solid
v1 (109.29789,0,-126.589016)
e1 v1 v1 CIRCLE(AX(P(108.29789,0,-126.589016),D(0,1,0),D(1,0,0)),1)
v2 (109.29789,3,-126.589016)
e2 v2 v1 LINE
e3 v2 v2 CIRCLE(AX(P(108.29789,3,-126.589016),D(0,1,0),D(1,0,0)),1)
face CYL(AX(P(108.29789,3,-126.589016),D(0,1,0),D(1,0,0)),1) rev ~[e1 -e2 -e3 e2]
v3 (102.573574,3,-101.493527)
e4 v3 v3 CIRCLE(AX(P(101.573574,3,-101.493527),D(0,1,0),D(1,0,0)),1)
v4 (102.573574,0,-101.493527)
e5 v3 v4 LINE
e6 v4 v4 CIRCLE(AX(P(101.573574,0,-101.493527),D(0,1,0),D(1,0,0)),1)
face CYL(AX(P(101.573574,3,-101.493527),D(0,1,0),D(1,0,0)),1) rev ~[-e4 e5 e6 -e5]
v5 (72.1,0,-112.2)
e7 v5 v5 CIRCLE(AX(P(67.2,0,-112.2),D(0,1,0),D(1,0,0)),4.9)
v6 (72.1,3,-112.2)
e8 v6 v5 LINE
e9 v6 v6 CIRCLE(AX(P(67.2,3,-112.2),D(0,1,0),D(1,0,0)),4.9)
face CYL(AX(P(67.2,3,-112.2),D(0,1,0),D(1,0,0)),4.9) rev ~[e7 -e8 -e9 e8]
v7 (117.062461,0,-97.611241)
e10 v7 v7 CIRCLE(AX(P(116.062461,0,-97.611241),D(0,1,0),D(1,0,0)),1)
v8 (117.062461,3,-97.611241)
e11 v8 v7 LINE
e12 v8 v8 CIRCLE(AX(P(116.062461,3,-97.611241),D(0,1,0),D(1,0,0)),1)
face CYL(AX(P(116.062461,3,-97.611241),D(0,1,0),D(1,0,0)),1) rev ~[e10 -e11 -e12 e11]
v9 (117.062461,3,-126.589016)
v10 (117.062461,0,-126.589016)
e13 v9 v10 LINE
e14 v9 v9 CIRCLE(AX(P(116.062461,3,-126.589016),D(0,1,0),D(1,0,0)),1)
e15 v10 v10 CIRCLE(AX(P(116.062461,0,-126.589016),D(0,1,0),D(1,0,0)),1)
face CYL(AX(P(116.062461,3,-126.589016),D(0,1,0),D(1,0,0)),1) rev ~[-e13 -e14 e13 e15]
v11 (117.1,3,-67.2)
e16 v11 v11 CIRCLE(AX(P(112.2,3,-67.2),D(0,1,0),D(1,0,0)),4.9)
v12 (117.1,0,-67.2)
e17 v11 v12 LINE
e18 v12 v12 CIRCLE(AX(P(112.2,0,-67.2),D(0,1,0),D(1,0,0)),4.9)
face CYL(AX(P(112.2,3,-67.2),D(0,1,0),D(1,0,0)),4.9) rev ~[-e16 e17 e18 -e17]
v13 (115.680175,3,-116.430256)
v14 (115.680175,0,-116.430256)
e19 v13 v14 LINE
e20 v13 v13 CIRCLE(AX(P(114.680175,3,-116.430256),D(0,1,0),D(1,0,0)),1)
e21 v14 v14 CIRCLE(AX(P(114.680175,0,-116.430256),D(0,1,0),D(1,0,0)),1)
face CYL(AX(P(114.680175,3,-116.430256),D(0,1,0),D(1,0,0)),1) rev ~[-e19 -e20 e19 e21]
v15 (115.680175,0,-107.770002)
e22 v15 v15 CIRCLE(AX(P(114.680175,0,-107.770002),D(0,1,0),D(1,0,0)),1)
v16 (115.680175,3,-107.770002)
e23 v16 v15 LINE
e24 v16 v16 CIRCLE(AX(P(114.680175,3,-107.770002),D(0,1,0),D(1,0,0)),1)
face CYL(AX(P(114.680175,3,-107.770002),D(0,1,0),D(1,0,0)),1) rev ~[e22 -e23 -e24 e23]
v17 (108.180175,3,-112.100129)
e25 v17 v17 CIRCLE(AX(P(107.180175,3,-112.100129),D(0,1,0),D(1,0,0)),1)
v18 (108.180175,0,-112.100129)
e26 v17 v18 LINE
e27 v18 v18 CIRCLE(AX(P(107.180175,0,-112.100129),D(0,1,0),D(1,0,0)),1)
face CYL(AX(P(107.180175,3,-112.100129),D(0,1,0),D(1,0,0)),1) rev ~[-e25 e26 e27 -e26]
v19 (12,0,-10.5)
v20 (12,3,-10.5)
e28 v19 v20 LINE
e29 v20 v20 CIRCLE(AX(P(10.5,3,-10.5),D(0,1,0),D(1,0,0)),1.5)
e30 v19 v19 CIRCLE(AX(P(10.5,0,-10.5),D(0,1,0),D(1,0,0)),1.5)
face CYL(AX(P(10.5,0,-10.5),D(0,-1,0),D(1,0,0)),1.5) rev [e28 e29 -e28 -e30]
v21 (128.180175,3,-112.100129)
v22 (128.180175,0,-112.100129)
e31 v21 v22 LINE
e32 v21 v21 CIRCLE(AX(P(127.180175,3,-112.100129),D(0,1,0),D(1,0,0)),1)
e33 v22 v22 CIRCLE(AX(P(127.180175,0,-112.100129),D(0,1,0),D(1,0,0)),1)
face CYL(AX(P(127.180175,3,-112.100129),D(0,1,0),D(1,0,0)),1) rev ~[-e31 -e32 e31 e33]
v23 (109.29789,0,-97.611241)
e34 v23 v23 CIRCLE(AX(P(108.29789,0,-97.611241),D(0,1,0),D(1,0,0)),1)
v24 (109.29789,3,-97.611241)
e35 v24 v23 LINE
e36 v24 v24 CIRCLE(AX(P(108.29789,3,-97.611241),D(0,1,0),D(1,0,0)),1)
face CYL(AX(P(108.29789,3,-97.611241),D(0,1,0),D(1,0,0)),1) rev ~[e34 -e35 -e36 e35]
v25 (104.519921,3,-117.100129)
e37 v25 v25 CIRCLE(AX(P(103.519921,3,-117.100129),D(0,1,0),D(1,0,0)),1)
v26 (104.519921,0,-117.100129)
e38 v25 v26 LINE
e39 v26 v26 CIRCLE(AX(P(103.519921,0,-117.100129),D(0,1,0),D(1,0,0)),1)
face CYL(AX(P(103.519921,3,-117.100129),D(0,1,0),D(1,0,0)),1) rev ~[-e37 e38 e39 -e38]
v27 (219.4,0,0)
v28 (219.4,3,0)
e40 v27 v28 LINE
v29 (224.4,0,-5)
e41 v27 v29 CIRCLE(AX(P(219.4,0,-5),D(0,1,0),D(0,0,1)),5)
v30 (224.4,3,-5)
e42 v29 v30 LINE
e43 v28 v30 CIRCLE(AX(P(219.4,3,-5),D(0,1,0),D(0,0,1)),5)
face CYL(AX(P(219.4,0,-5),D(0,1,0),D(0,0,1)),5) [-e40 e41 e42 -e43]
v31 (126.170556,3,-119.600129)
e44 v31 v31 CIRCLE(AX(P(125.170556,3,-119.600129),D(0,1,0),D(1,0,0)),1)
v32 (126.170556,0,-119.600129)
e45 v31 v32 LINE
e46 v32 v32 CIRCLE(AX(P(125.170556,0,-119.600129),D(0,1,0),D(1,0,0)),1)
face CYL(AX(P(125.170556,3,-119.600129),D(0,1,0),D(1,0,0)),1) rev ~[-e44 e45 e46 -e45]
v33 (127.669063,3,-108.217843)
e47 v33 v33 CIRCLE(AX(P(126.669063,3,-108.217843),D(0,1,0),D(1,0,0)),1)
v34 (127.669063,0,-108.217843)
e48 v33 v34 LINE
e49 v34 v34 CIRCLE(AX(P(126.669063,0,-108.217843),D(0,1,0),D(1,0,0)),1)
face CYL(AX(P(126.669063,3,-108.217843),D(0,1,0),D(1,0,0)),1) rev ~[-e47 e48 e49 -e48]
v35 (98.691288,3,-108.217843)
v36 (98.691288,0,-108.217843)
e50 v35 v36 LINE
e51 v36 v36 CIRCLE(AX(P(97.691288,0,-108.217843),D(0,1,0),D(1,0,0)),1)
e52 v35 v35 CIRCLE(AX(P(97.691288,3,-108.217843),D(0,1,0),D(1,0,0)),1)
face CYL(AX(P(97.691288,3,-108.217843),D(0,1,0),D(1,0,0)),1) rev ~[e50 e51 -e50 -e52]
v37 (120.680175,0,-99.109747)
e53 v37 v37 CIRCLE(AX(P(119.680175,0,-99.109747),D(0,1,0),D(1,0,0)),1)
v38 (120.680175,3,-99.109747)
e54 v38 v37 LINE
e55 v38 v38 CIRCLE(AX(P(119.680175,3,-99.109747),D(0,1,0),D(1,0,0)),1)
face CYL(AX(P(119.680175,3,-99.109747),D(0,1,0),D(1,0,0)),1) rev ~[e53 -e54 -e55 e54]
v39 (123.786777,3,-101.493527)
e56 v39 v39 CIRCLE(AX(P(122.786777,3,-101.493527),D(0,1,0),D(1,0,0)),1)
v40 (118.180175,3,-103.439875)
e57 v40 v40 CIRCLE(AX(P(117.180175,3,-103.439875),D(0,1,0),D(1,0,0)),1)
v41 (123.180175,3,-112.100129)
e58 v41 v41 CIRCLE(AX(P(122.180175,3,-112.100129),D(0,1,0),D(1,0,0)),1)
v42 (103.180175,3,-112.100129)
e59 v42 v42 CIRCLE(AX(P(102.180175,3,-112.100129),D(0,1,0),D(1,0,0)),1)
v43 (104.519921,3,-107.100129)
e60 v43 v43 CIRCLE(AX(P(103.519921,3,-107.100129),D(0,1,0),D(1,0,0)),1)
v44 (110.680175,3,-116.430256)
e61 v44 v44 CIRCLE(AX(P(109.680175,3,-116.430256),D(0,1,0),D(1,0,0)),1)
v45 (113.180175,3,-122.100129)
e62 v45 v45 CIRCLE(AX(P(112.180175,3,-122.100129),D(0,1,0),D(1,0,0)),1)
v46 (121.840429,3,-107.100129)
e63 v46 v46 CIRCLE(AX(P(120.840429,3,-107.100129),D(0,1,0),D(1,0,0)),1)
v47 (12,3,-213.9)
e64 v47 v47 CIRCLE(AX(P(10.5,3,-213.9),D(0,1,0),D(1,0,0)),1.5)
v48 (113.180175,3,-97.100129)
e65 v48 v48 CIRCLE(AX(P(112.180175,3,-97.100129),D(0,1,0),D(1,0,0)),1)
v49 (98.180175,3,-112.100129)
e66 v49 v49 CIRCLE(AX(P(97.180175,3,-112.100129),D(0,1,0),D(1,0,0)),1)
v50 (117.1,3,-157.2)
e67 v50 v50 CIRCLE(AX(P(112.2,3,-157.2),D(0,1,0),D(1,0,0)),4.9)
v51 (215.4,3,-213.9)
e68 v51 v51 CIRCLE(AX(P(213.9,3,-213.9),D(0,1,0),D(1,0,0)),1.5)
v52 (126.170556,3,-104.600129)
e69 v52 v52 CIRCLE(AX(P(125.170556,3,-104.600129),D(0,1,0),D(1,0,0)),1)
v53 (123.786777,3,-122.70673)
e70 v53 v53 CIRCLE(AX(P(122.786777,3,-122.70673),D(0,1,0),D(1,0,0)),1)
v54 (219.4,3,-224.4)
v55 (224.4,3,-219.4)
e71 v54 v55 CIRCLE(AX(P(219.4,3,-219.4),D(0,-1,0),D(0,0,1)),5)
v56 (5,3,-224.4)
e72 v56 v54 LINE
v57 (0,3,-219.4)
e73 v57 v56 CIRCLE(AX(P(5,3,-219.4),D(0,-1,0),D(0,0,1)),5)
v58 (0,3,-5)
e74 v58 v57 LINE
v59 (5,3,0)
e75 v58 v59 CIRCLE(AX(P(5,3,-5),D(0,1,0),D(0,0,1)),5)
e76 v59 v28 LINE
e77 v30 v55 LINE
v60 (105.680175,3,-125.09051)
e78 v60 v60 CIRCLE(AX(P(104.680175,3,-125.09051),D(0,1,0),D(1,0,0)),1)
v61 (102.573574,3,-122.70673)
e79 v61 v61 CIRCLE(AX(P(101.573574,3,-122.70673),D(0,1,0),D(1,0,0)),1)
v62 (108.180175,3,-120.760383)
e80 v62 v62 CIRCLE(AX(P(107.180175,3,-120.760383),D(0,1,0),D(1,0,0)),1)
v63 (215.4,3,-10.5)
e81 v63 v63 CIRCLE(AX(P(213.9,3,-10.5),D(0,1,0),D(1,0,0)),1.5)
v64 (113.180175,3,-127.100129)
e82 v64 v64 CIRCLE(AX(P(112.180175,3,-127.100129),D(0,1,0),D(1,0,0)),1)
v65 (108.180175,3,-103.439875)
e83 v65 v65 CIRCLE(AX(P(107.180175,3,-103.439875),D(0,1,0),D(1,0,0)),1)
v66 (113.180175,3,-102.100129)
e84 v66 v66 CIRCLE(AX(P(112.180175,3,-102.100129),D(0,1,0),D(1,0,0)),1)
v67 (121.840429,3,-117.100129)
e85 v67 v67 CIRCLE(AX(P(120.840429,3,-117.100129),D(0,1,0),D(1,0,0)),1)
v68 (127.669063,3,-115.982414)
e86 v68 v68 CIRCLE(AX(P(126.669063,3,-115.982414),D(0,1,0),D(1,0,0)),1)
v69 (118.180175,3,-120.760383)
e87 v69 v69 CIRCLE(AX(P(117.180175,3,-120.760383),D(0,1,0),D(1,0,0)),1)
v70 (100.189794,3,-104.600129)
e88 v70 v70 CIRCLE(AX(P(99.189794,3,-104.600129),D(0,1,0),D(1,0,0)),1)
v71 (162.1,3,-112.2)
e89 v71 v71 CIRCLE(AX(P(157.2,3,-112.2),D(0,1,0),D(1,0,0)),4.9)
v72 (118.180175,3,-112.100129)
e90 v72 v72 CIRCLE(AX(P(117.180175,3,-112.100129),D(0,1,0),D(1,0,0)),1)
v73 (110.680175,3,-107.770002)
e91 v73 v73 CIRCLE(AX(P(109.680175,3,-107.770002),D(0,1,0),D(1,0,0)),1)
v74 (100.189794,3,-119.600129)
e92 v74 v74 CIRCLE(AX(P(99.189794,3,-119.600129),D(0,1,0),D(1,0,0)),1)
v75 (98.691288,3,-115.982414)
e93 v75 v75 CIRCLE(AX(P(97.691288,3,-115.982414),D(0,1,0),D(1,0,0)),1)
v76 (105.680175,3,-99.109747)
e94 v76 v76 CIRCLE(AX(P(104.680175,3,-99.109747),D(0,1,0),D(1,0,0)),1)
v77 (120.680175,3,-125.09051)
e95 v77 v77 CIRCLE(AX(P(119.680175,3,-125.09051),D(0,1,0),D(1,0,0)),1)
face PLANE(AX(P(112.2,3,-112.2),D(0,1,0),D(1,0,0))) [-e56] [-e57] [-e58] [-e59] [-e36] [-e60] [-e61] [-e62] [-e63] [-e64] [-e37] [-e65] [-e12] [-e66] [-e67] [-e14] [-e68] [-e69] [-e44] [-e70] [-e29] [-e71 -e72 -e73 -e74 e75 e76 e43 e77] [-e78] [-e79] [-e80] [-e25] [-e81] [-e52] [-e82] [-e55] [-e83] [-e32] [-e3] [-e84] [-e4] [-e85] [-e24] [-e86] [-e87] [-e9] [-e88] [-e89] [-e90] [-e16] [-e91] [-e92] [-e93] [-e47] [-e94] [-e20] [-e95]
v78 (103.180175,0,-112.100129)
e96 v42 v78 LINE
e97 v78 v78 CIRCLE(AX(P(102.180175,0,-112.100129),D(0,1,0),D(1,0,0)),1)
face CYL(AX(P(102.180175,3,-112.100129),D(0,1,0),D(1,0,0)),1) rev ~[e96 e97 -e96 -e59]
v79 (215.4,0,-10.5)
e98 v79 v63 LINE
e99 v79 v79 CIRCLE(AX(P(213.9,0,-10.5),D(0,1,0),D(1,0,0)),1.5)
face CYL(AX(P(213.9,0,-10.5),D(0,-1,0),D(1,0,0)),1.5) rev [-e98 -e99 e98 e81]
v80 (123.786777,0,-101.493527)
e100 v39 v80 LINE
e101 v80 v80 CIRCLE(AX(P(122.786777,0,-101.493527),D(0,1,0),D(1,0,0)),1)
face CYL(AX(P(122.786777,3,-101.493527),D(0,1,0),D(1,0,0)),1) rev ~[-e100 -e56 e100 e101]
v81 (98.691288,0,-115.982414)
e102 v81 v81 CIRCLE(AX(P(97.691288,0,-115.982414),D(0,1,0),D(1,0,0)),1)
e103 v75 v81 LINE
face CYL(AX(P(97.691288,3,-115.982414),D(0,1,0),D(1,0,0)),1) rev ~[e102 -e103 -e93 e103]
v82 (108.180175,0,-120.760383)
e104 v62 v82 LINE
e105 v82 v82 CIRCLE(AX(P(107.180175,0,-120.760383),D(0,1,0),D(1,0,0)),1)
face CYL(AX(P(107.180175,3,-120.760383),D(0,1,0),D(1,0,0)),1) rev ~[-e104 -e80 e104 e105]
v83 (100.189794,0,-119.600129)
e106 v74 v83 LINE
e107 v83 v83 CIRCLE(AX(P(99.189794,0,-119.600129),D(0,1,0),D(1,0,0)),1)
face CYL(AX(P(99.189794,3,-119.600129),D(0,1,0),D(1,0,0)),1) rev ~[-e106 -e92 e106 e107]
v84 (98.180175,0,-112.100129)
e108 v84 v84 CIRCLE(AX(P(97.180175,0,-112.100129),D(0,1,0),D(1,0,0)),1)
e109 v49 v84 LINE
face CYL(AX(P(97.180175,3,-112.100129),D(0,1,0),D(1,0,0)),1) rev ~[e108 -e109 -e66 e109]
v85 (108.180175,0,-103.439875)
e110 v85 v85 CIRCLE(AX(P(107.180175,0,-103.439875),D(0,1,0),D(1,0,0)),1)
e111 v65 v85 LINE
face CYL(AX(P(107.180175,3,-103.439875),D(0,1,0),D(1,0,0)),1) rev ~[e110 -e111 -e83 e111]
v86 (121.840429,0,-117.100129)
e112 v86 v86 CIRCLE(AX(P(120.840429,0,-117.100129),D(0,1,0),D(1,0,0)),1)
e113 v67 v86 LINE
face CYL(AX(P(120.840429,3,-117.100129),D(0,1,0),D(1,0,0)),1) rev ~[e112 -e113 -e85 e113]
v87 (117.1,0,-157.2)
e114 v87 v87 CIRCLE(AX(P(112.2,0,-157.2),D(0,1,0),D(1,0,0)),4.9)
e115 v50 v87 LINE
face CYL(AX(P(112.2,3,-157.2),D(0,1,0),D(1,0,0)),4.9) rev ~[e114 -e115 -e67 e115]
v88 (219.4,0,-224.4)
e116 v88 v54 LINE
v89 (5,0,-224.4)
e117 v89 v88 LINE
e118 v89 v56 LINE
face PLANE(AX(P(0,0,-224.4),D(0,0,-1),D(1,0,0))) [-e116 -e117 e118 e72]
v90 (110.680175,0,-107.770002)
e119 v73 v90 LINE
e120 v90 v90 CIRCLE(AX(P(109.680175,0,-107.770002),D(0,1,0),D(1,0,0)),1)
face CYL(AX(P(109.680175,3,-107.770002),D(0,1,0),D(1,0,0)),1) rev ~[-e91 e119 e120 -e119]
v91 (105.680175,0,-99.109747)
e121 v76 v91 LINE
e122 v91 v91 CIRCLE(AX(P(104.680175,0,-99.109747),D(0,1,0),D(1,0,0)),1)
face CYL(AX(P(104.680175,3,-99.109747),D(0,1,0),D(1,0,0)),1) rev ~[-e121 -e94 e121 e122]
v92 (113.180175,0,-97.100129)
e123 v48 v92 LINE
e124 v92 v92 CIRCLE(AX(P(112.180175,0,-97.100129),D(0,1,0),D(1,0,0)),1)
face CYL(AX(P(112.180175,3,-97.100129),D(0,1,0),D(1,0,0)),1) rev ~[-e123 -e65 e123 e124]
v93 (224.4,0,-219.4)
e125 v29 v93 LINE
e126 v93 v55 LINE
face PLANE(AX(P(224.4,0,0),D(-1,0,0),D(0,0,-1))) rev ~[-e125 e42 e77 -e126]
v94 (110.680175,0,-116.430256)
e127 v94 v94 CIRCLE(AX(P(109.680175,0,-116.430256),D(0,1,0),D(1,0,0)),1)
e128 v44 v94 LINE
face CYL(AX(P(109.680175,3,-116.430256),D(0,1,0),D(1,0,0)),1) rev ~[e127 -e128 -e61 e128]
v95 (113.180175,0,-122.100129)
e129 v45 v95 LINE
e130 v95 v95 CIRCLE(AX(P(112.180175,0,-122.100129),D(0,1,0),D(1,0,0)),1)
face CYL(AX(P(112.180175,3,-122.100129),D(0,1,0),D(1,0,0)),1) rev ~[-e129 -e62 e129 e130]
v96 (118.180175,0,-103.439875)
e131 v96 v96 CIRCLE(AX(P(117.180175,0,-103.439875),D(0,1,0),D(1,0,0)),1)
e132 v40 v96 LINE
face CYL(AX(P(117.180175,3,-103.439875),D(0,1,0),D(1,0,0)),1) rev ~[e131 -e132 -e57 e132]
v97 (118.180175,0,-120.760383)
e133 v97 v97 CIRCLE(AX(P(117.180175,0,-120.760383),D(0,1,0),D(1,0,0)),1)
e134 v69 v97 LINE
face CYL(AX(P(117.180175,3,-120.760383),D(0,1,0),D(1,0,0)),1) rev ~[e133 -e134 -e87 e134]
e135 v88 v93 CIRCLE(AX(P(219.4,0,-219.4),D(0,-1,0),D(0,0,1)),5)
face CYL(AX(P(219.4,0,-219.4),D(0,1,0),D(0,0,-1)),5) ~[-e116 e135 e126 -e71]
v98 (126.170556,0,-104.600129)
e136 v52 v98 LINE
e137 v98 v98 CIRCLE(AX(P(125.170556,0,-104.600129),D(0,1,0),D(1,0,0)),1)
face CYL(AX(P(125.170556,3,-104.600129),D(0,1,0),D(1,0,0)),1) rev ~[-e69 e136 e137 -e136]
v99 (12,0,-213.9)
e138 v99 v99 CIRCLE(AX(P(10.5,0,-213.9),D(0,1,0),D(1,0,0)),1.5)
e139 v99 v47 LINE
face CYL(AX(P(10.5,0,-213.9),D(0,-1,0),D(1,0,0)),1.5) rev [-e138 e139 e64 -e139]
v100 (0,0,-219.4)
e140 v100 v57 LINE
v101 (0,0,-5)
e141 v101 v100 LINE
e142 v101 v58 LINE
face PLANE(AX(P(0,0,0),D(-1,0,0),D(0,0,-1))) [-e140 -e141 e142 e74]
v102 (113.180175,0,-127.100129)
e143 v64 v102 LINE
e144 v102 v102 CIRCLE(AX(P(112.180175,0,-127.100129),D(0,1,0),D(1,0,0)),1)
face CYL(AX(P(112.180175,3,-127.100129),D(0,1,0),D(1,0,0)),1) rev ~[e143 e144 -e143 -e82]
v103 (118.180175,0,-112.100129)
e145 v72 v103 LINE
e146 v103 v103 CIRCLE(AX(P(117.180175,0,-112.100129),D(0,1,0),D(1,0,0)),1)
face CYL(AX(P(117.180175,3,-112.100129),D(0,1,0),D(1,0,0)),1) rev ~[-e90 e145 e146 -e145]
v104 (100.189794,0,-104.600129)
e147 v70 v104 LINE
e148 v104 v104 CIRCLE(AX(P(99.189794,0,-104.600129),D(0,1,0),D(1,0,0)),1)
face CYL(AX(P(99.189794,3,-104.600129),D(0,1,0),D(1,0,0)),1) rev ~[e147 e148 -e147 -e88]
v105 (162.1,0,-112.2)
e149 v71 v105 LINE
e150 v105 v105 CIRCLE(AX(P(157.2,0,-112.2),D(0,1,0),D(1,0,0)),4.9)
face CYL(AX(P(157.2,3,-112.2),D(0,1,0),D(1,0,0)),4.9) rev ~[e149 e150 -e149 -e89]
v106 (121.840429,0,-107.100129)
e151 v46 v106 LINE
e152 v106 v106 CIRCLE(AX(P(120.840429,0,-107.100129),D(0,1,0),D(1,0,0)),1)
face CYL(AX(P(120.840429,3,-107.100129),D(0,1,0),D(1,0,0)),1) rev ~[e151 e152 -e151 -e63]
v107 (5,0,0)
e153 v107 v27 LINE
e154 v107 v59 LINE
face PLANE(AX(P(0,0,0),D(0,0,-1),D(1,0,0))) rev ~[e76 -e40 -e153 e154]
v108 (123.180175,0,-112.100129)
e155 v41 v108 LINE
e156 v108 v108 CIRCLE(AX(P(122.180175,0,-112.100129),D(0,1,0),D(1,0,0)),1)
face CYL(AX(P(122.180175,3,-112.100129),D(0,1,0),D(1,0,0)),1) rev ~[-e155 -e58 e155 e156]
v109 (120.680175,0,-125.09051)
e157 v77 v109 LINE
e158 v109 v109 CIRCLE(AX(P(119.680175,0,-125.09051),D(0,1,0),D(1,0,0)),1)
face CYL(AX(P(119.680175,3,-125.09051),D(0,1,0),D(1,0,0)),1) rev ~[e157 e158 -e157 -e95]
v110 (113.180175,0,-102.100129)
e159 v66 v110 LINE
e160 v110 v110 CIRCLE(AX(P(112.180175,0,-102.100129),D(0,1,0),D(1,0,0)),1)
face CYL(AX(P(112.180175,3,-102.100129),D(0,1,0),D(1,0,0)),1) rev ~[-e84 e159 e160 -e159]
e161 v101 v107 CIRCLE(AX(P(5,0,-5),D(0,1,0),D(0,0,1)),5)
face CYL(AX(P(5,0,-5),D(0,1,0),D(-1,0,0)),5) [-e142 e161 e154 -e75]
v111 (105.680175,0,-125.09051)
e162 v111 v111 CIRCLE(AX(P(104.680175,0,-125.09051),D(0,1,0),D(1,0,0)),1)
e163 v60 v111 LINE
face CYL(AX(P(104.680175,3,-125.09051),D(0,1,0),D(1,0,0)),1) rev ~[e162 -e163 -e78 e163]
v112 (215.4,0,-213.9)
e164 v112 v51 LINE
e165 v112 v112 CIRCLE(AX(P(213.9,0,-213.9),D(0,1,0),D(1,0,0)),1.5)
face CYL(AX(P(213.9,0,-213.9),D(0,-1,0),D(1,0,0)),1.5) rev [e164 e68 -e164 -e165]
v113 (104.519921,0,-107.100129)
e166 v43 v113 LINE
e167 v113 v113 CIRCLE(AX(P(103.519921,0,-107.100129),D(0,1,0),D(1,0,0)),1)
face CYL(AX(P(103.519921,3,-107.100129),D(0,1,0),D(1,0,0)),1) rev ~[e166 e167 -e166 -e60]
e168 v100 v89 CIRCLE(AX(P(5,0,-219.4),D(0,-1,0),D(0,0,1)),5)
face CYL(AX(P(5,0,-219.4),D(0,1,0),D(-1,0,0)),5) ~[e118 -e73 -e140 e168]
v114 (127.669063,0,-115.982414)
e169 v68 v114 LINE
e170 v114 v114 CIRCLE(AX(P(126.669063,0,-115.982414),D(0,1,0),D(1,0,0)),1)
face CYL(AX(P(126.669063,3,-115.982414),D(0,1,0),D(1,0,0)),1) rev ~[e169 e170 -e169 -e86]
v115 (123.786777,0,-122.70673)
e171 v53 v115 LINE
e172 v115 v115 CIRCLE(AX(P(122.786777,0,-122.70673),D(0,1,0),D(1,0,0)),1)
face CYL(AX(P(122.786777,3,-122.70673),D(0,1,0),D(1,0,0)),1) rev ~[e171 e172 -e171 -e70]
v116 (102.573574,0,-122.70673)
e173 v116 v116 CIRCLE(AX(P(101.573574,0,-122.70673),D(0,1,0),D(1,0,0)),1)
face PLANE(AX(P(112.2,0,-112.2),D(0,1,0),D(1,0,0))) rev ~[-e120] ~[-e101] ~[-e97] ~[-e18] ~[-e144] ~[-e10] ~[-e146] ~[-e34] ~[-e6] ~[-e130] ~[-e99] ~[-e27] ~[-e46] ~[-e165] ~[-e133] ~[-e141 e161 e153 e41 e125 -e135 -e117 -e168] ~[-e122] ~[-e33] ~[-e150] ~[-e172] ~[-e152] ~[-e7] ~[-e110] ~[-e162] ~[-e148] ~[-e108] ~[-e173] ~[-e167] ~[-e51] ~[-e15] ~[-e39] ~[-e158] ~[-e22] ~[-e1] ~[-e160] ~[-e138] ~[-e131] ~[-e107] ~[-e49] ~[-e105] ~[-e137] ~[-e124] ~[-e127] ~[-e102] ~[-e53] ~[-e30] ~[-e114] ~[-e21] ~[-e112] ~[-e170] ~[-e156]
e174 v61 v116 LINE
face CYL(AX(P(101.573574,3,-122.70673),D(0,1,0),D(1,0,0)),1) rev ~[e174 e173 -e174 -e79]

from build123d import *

# Parameters (mm, degrees)
SKETCH1_W           = 224.4
SKETCH1_H           = 224.4
SKETCH1_R           = 1.5
BOSS_EXTRUDE1_DEPTH = 3
FILLET1_R           = 5
SKETCH2_R           = 1
CUT_EXTRUDE1_DEPTH  = 4
SKETCH4_R           = 4.9
CUT_EXTRUDE2_DEPTH  = 4


with BuildPart() as part:
    # Sketch1 → Boss-Extrude1 (new body)
    with BuildSketch(Plane(origin=(0, 0, 0), x_dir=(1, 0, 0), z_dir=(0, 1, 0))):
        with Locations((112.2, 112.2)):
            Rectangle(SKETCH1_W, SKETCH1_H)
        with Locations((213.9, 10.5)):
            Circle(SKETCH1_R, mode=Mode.SUBTRACT)
        with Locations((213.9, 213.9)):
            Circle(SKETCH1_R, mode=Mode.SUBTRACT)
        with Locations((10.5, 10.5)):
            Circle(SKETCH1_R, mode=Mode.SUBTRACT)
        with Locations((10.5, 213.9)):
            Circle(SKETCH1_R, mode=Mode.SUBTRACT)
    extrude(amount=BOSS_EXTRUDE1_DEPTH)

    # Fillet1
    fillet1_edges = [part.edges().sort_by_distance(p)[0] for p in [
        (0, 1.5, -224.4),
        (224.4, 1.5, -224.4),
        (224.4, 1.5, 0),
        (0, 1.5, 0),
    ]]
    fillet(fillet1_edges, radius=FILLET1_R)

    # Sketch2 → Cut-Extrude1 (cut, through all)
    with BuildSketch(Plane(origin=(0, 3, 0), x_dir=(1, 0, 0), z_dir=(0, 1, 0))):
        with Locations((117.180175368, 112.100128542)):
            Circle(SKETCH2_R)
        with Locations((122.180175368, 112.100128542)):
            Circle(SKETCH2_R)
        with Locations((127.180175368, 112.100128542)):
            Circle(SKETCH2_R)
        with Locations((114.680175368, 107.770001523)):
            Circle(SKETCH2_R)
        with Locations((109.680175368, 107.770001523)):
            Circle(SKETCH2_R)
        with Locations((107.180175368, 112.100128542)):
            Circle(SKETCH2_R)
        with Locations((109.680175368, 116.430255561)):
            Circle(SKETCH2_R)
        with Locations((114.680175368, 116.430255561)):
            Circle(SKETCH2_R)
        with Locations((120.840429406, 107.100128542)):
            Circle(SKETCH2_R)
        with Locations((117.180175368, 103.439874505)):
            Circle(SKETCH2_R)
        with Locations((112.180175368, 102.100128542)):
            Circle(SKETCH2_R)
        with Locations((107.180175368, 103.439874505)):
            Circle(SKETCH2_R)
        with Locations((103.51992133, 107.100128542)):
            Circle(SKETCH2_R)
        with Locations((102.180175368, 112.100128542)):
            Circle(SKETCH2_R)
        with Locations((103.51992133, 117.100128542)):
            Circle(SKETCH2_R)
        with Locations((107.180175368, 120.76038258)):
            Circle(SKETCH2_R)
        with Locations((112.180175368, 122.100128542)):
            Circle(SKETCH2_R)
        with Locations((117.180175368, 120.76038258)):
            Circle(SKETCH2_R)
        with Locations((120.840429406, 117.100128542)):
            Circle(SKETCH2_R)
        with Locations((126.669062762, 108.217842866)):
            Circle(SKETCH2_R)
        with Locations((125.170556425, 104.600128542)):
            Circle(SKETCH2_R)
        with Locations((122.786777086, 101.493526825)):
            Circle(SKETCH2_R)
        with Locations((119.680175368, 99.109747486)):
            Circle(SKETCH2_R)
        with Locations((116.062461045, 97.611241148)):
            Circle(SKETCH2_R)
        with Locations((112.180175368, 97.100128542)):
            Circle(SKETCH2_R)
        with Locations((108.297889692, 97.611241148)):
            Circle(SKETCH2_R)
        with Locations((104.680175368, 99.109747486)):
            Circle(SKETCH2_R)
        with Locations((101.57357365, 101.493526825)):
            Circle(SKETCH2_R)
        with Locations((99.189794311, 104.600128542)):
            Circle(SKETCH2_R)
        with Locations((97.691287974, 108.217842866)):
            Circle(SKETCH2_R)
        with Locations((97.180175368, 112.100128542)):
            Circle(SKETCH2_R)
        with Locations((97.691287974, 115.982414219)):
            Circle(SKETCH2_R)
        with Locations((99.189794311, 119.600128542)):
            Circle(SKETCH2_R)
        with Locations((101.57357365, 122.70673026)):
            Circle(SKETCH2_R)
        with Locations((104.680175368, 125.090509599)):
            Circle(SKETCH2_R)
        with Locations((108.297889692, 126.589015937)):
            Circle(SKETCH2_R)
        with Locations((112.180175368, 127.100128542)):
            Circle(SKETCH2_R)
        with Locations((116.062461045, 126.589015937)):
            Circle(SKETCH2_R)
        with Locations((119.680175368, 125.090509599)):
            Circle(SKETCH2_R)
        with Locations((122.786777086, 122.70673026)):
            Circle(SKETCH2_R)
        with Locations((125.170556425, 119.600128542)):
            Circle(SKETCH2_R)
        with Locations((126.669062762, 115.982414219)):
            Circle(SKETCH2_R)
    extrude(amount=-CUT_EXTRUDE1_DEPTH, mode=Mode.SUBTRACT)

    # Sketch4 → Cut-Extrude2 (cut, through all)
    with BuildSketch(Plane(origin=(0, 3, 0), x_dir=(1, 0, 0), z_dir=(0, 1, 0))):
        with Locations((112.2, 157.2)):
            Circle(SKETCH4_R)
        with Locations((157.2, 112.2)):
            Circle(SKETCH4_R)
        with Locations((112.2, 67.2)):
            Circle(SKETCH4_R)
        with Locations((67.2, 112.2)):
            Circle(SKETCH4_R)
    extrude(amount=-CUT_EXTRUDE2_DEPTH, mode=Mode.SUBTRACT)


solid = part.part
